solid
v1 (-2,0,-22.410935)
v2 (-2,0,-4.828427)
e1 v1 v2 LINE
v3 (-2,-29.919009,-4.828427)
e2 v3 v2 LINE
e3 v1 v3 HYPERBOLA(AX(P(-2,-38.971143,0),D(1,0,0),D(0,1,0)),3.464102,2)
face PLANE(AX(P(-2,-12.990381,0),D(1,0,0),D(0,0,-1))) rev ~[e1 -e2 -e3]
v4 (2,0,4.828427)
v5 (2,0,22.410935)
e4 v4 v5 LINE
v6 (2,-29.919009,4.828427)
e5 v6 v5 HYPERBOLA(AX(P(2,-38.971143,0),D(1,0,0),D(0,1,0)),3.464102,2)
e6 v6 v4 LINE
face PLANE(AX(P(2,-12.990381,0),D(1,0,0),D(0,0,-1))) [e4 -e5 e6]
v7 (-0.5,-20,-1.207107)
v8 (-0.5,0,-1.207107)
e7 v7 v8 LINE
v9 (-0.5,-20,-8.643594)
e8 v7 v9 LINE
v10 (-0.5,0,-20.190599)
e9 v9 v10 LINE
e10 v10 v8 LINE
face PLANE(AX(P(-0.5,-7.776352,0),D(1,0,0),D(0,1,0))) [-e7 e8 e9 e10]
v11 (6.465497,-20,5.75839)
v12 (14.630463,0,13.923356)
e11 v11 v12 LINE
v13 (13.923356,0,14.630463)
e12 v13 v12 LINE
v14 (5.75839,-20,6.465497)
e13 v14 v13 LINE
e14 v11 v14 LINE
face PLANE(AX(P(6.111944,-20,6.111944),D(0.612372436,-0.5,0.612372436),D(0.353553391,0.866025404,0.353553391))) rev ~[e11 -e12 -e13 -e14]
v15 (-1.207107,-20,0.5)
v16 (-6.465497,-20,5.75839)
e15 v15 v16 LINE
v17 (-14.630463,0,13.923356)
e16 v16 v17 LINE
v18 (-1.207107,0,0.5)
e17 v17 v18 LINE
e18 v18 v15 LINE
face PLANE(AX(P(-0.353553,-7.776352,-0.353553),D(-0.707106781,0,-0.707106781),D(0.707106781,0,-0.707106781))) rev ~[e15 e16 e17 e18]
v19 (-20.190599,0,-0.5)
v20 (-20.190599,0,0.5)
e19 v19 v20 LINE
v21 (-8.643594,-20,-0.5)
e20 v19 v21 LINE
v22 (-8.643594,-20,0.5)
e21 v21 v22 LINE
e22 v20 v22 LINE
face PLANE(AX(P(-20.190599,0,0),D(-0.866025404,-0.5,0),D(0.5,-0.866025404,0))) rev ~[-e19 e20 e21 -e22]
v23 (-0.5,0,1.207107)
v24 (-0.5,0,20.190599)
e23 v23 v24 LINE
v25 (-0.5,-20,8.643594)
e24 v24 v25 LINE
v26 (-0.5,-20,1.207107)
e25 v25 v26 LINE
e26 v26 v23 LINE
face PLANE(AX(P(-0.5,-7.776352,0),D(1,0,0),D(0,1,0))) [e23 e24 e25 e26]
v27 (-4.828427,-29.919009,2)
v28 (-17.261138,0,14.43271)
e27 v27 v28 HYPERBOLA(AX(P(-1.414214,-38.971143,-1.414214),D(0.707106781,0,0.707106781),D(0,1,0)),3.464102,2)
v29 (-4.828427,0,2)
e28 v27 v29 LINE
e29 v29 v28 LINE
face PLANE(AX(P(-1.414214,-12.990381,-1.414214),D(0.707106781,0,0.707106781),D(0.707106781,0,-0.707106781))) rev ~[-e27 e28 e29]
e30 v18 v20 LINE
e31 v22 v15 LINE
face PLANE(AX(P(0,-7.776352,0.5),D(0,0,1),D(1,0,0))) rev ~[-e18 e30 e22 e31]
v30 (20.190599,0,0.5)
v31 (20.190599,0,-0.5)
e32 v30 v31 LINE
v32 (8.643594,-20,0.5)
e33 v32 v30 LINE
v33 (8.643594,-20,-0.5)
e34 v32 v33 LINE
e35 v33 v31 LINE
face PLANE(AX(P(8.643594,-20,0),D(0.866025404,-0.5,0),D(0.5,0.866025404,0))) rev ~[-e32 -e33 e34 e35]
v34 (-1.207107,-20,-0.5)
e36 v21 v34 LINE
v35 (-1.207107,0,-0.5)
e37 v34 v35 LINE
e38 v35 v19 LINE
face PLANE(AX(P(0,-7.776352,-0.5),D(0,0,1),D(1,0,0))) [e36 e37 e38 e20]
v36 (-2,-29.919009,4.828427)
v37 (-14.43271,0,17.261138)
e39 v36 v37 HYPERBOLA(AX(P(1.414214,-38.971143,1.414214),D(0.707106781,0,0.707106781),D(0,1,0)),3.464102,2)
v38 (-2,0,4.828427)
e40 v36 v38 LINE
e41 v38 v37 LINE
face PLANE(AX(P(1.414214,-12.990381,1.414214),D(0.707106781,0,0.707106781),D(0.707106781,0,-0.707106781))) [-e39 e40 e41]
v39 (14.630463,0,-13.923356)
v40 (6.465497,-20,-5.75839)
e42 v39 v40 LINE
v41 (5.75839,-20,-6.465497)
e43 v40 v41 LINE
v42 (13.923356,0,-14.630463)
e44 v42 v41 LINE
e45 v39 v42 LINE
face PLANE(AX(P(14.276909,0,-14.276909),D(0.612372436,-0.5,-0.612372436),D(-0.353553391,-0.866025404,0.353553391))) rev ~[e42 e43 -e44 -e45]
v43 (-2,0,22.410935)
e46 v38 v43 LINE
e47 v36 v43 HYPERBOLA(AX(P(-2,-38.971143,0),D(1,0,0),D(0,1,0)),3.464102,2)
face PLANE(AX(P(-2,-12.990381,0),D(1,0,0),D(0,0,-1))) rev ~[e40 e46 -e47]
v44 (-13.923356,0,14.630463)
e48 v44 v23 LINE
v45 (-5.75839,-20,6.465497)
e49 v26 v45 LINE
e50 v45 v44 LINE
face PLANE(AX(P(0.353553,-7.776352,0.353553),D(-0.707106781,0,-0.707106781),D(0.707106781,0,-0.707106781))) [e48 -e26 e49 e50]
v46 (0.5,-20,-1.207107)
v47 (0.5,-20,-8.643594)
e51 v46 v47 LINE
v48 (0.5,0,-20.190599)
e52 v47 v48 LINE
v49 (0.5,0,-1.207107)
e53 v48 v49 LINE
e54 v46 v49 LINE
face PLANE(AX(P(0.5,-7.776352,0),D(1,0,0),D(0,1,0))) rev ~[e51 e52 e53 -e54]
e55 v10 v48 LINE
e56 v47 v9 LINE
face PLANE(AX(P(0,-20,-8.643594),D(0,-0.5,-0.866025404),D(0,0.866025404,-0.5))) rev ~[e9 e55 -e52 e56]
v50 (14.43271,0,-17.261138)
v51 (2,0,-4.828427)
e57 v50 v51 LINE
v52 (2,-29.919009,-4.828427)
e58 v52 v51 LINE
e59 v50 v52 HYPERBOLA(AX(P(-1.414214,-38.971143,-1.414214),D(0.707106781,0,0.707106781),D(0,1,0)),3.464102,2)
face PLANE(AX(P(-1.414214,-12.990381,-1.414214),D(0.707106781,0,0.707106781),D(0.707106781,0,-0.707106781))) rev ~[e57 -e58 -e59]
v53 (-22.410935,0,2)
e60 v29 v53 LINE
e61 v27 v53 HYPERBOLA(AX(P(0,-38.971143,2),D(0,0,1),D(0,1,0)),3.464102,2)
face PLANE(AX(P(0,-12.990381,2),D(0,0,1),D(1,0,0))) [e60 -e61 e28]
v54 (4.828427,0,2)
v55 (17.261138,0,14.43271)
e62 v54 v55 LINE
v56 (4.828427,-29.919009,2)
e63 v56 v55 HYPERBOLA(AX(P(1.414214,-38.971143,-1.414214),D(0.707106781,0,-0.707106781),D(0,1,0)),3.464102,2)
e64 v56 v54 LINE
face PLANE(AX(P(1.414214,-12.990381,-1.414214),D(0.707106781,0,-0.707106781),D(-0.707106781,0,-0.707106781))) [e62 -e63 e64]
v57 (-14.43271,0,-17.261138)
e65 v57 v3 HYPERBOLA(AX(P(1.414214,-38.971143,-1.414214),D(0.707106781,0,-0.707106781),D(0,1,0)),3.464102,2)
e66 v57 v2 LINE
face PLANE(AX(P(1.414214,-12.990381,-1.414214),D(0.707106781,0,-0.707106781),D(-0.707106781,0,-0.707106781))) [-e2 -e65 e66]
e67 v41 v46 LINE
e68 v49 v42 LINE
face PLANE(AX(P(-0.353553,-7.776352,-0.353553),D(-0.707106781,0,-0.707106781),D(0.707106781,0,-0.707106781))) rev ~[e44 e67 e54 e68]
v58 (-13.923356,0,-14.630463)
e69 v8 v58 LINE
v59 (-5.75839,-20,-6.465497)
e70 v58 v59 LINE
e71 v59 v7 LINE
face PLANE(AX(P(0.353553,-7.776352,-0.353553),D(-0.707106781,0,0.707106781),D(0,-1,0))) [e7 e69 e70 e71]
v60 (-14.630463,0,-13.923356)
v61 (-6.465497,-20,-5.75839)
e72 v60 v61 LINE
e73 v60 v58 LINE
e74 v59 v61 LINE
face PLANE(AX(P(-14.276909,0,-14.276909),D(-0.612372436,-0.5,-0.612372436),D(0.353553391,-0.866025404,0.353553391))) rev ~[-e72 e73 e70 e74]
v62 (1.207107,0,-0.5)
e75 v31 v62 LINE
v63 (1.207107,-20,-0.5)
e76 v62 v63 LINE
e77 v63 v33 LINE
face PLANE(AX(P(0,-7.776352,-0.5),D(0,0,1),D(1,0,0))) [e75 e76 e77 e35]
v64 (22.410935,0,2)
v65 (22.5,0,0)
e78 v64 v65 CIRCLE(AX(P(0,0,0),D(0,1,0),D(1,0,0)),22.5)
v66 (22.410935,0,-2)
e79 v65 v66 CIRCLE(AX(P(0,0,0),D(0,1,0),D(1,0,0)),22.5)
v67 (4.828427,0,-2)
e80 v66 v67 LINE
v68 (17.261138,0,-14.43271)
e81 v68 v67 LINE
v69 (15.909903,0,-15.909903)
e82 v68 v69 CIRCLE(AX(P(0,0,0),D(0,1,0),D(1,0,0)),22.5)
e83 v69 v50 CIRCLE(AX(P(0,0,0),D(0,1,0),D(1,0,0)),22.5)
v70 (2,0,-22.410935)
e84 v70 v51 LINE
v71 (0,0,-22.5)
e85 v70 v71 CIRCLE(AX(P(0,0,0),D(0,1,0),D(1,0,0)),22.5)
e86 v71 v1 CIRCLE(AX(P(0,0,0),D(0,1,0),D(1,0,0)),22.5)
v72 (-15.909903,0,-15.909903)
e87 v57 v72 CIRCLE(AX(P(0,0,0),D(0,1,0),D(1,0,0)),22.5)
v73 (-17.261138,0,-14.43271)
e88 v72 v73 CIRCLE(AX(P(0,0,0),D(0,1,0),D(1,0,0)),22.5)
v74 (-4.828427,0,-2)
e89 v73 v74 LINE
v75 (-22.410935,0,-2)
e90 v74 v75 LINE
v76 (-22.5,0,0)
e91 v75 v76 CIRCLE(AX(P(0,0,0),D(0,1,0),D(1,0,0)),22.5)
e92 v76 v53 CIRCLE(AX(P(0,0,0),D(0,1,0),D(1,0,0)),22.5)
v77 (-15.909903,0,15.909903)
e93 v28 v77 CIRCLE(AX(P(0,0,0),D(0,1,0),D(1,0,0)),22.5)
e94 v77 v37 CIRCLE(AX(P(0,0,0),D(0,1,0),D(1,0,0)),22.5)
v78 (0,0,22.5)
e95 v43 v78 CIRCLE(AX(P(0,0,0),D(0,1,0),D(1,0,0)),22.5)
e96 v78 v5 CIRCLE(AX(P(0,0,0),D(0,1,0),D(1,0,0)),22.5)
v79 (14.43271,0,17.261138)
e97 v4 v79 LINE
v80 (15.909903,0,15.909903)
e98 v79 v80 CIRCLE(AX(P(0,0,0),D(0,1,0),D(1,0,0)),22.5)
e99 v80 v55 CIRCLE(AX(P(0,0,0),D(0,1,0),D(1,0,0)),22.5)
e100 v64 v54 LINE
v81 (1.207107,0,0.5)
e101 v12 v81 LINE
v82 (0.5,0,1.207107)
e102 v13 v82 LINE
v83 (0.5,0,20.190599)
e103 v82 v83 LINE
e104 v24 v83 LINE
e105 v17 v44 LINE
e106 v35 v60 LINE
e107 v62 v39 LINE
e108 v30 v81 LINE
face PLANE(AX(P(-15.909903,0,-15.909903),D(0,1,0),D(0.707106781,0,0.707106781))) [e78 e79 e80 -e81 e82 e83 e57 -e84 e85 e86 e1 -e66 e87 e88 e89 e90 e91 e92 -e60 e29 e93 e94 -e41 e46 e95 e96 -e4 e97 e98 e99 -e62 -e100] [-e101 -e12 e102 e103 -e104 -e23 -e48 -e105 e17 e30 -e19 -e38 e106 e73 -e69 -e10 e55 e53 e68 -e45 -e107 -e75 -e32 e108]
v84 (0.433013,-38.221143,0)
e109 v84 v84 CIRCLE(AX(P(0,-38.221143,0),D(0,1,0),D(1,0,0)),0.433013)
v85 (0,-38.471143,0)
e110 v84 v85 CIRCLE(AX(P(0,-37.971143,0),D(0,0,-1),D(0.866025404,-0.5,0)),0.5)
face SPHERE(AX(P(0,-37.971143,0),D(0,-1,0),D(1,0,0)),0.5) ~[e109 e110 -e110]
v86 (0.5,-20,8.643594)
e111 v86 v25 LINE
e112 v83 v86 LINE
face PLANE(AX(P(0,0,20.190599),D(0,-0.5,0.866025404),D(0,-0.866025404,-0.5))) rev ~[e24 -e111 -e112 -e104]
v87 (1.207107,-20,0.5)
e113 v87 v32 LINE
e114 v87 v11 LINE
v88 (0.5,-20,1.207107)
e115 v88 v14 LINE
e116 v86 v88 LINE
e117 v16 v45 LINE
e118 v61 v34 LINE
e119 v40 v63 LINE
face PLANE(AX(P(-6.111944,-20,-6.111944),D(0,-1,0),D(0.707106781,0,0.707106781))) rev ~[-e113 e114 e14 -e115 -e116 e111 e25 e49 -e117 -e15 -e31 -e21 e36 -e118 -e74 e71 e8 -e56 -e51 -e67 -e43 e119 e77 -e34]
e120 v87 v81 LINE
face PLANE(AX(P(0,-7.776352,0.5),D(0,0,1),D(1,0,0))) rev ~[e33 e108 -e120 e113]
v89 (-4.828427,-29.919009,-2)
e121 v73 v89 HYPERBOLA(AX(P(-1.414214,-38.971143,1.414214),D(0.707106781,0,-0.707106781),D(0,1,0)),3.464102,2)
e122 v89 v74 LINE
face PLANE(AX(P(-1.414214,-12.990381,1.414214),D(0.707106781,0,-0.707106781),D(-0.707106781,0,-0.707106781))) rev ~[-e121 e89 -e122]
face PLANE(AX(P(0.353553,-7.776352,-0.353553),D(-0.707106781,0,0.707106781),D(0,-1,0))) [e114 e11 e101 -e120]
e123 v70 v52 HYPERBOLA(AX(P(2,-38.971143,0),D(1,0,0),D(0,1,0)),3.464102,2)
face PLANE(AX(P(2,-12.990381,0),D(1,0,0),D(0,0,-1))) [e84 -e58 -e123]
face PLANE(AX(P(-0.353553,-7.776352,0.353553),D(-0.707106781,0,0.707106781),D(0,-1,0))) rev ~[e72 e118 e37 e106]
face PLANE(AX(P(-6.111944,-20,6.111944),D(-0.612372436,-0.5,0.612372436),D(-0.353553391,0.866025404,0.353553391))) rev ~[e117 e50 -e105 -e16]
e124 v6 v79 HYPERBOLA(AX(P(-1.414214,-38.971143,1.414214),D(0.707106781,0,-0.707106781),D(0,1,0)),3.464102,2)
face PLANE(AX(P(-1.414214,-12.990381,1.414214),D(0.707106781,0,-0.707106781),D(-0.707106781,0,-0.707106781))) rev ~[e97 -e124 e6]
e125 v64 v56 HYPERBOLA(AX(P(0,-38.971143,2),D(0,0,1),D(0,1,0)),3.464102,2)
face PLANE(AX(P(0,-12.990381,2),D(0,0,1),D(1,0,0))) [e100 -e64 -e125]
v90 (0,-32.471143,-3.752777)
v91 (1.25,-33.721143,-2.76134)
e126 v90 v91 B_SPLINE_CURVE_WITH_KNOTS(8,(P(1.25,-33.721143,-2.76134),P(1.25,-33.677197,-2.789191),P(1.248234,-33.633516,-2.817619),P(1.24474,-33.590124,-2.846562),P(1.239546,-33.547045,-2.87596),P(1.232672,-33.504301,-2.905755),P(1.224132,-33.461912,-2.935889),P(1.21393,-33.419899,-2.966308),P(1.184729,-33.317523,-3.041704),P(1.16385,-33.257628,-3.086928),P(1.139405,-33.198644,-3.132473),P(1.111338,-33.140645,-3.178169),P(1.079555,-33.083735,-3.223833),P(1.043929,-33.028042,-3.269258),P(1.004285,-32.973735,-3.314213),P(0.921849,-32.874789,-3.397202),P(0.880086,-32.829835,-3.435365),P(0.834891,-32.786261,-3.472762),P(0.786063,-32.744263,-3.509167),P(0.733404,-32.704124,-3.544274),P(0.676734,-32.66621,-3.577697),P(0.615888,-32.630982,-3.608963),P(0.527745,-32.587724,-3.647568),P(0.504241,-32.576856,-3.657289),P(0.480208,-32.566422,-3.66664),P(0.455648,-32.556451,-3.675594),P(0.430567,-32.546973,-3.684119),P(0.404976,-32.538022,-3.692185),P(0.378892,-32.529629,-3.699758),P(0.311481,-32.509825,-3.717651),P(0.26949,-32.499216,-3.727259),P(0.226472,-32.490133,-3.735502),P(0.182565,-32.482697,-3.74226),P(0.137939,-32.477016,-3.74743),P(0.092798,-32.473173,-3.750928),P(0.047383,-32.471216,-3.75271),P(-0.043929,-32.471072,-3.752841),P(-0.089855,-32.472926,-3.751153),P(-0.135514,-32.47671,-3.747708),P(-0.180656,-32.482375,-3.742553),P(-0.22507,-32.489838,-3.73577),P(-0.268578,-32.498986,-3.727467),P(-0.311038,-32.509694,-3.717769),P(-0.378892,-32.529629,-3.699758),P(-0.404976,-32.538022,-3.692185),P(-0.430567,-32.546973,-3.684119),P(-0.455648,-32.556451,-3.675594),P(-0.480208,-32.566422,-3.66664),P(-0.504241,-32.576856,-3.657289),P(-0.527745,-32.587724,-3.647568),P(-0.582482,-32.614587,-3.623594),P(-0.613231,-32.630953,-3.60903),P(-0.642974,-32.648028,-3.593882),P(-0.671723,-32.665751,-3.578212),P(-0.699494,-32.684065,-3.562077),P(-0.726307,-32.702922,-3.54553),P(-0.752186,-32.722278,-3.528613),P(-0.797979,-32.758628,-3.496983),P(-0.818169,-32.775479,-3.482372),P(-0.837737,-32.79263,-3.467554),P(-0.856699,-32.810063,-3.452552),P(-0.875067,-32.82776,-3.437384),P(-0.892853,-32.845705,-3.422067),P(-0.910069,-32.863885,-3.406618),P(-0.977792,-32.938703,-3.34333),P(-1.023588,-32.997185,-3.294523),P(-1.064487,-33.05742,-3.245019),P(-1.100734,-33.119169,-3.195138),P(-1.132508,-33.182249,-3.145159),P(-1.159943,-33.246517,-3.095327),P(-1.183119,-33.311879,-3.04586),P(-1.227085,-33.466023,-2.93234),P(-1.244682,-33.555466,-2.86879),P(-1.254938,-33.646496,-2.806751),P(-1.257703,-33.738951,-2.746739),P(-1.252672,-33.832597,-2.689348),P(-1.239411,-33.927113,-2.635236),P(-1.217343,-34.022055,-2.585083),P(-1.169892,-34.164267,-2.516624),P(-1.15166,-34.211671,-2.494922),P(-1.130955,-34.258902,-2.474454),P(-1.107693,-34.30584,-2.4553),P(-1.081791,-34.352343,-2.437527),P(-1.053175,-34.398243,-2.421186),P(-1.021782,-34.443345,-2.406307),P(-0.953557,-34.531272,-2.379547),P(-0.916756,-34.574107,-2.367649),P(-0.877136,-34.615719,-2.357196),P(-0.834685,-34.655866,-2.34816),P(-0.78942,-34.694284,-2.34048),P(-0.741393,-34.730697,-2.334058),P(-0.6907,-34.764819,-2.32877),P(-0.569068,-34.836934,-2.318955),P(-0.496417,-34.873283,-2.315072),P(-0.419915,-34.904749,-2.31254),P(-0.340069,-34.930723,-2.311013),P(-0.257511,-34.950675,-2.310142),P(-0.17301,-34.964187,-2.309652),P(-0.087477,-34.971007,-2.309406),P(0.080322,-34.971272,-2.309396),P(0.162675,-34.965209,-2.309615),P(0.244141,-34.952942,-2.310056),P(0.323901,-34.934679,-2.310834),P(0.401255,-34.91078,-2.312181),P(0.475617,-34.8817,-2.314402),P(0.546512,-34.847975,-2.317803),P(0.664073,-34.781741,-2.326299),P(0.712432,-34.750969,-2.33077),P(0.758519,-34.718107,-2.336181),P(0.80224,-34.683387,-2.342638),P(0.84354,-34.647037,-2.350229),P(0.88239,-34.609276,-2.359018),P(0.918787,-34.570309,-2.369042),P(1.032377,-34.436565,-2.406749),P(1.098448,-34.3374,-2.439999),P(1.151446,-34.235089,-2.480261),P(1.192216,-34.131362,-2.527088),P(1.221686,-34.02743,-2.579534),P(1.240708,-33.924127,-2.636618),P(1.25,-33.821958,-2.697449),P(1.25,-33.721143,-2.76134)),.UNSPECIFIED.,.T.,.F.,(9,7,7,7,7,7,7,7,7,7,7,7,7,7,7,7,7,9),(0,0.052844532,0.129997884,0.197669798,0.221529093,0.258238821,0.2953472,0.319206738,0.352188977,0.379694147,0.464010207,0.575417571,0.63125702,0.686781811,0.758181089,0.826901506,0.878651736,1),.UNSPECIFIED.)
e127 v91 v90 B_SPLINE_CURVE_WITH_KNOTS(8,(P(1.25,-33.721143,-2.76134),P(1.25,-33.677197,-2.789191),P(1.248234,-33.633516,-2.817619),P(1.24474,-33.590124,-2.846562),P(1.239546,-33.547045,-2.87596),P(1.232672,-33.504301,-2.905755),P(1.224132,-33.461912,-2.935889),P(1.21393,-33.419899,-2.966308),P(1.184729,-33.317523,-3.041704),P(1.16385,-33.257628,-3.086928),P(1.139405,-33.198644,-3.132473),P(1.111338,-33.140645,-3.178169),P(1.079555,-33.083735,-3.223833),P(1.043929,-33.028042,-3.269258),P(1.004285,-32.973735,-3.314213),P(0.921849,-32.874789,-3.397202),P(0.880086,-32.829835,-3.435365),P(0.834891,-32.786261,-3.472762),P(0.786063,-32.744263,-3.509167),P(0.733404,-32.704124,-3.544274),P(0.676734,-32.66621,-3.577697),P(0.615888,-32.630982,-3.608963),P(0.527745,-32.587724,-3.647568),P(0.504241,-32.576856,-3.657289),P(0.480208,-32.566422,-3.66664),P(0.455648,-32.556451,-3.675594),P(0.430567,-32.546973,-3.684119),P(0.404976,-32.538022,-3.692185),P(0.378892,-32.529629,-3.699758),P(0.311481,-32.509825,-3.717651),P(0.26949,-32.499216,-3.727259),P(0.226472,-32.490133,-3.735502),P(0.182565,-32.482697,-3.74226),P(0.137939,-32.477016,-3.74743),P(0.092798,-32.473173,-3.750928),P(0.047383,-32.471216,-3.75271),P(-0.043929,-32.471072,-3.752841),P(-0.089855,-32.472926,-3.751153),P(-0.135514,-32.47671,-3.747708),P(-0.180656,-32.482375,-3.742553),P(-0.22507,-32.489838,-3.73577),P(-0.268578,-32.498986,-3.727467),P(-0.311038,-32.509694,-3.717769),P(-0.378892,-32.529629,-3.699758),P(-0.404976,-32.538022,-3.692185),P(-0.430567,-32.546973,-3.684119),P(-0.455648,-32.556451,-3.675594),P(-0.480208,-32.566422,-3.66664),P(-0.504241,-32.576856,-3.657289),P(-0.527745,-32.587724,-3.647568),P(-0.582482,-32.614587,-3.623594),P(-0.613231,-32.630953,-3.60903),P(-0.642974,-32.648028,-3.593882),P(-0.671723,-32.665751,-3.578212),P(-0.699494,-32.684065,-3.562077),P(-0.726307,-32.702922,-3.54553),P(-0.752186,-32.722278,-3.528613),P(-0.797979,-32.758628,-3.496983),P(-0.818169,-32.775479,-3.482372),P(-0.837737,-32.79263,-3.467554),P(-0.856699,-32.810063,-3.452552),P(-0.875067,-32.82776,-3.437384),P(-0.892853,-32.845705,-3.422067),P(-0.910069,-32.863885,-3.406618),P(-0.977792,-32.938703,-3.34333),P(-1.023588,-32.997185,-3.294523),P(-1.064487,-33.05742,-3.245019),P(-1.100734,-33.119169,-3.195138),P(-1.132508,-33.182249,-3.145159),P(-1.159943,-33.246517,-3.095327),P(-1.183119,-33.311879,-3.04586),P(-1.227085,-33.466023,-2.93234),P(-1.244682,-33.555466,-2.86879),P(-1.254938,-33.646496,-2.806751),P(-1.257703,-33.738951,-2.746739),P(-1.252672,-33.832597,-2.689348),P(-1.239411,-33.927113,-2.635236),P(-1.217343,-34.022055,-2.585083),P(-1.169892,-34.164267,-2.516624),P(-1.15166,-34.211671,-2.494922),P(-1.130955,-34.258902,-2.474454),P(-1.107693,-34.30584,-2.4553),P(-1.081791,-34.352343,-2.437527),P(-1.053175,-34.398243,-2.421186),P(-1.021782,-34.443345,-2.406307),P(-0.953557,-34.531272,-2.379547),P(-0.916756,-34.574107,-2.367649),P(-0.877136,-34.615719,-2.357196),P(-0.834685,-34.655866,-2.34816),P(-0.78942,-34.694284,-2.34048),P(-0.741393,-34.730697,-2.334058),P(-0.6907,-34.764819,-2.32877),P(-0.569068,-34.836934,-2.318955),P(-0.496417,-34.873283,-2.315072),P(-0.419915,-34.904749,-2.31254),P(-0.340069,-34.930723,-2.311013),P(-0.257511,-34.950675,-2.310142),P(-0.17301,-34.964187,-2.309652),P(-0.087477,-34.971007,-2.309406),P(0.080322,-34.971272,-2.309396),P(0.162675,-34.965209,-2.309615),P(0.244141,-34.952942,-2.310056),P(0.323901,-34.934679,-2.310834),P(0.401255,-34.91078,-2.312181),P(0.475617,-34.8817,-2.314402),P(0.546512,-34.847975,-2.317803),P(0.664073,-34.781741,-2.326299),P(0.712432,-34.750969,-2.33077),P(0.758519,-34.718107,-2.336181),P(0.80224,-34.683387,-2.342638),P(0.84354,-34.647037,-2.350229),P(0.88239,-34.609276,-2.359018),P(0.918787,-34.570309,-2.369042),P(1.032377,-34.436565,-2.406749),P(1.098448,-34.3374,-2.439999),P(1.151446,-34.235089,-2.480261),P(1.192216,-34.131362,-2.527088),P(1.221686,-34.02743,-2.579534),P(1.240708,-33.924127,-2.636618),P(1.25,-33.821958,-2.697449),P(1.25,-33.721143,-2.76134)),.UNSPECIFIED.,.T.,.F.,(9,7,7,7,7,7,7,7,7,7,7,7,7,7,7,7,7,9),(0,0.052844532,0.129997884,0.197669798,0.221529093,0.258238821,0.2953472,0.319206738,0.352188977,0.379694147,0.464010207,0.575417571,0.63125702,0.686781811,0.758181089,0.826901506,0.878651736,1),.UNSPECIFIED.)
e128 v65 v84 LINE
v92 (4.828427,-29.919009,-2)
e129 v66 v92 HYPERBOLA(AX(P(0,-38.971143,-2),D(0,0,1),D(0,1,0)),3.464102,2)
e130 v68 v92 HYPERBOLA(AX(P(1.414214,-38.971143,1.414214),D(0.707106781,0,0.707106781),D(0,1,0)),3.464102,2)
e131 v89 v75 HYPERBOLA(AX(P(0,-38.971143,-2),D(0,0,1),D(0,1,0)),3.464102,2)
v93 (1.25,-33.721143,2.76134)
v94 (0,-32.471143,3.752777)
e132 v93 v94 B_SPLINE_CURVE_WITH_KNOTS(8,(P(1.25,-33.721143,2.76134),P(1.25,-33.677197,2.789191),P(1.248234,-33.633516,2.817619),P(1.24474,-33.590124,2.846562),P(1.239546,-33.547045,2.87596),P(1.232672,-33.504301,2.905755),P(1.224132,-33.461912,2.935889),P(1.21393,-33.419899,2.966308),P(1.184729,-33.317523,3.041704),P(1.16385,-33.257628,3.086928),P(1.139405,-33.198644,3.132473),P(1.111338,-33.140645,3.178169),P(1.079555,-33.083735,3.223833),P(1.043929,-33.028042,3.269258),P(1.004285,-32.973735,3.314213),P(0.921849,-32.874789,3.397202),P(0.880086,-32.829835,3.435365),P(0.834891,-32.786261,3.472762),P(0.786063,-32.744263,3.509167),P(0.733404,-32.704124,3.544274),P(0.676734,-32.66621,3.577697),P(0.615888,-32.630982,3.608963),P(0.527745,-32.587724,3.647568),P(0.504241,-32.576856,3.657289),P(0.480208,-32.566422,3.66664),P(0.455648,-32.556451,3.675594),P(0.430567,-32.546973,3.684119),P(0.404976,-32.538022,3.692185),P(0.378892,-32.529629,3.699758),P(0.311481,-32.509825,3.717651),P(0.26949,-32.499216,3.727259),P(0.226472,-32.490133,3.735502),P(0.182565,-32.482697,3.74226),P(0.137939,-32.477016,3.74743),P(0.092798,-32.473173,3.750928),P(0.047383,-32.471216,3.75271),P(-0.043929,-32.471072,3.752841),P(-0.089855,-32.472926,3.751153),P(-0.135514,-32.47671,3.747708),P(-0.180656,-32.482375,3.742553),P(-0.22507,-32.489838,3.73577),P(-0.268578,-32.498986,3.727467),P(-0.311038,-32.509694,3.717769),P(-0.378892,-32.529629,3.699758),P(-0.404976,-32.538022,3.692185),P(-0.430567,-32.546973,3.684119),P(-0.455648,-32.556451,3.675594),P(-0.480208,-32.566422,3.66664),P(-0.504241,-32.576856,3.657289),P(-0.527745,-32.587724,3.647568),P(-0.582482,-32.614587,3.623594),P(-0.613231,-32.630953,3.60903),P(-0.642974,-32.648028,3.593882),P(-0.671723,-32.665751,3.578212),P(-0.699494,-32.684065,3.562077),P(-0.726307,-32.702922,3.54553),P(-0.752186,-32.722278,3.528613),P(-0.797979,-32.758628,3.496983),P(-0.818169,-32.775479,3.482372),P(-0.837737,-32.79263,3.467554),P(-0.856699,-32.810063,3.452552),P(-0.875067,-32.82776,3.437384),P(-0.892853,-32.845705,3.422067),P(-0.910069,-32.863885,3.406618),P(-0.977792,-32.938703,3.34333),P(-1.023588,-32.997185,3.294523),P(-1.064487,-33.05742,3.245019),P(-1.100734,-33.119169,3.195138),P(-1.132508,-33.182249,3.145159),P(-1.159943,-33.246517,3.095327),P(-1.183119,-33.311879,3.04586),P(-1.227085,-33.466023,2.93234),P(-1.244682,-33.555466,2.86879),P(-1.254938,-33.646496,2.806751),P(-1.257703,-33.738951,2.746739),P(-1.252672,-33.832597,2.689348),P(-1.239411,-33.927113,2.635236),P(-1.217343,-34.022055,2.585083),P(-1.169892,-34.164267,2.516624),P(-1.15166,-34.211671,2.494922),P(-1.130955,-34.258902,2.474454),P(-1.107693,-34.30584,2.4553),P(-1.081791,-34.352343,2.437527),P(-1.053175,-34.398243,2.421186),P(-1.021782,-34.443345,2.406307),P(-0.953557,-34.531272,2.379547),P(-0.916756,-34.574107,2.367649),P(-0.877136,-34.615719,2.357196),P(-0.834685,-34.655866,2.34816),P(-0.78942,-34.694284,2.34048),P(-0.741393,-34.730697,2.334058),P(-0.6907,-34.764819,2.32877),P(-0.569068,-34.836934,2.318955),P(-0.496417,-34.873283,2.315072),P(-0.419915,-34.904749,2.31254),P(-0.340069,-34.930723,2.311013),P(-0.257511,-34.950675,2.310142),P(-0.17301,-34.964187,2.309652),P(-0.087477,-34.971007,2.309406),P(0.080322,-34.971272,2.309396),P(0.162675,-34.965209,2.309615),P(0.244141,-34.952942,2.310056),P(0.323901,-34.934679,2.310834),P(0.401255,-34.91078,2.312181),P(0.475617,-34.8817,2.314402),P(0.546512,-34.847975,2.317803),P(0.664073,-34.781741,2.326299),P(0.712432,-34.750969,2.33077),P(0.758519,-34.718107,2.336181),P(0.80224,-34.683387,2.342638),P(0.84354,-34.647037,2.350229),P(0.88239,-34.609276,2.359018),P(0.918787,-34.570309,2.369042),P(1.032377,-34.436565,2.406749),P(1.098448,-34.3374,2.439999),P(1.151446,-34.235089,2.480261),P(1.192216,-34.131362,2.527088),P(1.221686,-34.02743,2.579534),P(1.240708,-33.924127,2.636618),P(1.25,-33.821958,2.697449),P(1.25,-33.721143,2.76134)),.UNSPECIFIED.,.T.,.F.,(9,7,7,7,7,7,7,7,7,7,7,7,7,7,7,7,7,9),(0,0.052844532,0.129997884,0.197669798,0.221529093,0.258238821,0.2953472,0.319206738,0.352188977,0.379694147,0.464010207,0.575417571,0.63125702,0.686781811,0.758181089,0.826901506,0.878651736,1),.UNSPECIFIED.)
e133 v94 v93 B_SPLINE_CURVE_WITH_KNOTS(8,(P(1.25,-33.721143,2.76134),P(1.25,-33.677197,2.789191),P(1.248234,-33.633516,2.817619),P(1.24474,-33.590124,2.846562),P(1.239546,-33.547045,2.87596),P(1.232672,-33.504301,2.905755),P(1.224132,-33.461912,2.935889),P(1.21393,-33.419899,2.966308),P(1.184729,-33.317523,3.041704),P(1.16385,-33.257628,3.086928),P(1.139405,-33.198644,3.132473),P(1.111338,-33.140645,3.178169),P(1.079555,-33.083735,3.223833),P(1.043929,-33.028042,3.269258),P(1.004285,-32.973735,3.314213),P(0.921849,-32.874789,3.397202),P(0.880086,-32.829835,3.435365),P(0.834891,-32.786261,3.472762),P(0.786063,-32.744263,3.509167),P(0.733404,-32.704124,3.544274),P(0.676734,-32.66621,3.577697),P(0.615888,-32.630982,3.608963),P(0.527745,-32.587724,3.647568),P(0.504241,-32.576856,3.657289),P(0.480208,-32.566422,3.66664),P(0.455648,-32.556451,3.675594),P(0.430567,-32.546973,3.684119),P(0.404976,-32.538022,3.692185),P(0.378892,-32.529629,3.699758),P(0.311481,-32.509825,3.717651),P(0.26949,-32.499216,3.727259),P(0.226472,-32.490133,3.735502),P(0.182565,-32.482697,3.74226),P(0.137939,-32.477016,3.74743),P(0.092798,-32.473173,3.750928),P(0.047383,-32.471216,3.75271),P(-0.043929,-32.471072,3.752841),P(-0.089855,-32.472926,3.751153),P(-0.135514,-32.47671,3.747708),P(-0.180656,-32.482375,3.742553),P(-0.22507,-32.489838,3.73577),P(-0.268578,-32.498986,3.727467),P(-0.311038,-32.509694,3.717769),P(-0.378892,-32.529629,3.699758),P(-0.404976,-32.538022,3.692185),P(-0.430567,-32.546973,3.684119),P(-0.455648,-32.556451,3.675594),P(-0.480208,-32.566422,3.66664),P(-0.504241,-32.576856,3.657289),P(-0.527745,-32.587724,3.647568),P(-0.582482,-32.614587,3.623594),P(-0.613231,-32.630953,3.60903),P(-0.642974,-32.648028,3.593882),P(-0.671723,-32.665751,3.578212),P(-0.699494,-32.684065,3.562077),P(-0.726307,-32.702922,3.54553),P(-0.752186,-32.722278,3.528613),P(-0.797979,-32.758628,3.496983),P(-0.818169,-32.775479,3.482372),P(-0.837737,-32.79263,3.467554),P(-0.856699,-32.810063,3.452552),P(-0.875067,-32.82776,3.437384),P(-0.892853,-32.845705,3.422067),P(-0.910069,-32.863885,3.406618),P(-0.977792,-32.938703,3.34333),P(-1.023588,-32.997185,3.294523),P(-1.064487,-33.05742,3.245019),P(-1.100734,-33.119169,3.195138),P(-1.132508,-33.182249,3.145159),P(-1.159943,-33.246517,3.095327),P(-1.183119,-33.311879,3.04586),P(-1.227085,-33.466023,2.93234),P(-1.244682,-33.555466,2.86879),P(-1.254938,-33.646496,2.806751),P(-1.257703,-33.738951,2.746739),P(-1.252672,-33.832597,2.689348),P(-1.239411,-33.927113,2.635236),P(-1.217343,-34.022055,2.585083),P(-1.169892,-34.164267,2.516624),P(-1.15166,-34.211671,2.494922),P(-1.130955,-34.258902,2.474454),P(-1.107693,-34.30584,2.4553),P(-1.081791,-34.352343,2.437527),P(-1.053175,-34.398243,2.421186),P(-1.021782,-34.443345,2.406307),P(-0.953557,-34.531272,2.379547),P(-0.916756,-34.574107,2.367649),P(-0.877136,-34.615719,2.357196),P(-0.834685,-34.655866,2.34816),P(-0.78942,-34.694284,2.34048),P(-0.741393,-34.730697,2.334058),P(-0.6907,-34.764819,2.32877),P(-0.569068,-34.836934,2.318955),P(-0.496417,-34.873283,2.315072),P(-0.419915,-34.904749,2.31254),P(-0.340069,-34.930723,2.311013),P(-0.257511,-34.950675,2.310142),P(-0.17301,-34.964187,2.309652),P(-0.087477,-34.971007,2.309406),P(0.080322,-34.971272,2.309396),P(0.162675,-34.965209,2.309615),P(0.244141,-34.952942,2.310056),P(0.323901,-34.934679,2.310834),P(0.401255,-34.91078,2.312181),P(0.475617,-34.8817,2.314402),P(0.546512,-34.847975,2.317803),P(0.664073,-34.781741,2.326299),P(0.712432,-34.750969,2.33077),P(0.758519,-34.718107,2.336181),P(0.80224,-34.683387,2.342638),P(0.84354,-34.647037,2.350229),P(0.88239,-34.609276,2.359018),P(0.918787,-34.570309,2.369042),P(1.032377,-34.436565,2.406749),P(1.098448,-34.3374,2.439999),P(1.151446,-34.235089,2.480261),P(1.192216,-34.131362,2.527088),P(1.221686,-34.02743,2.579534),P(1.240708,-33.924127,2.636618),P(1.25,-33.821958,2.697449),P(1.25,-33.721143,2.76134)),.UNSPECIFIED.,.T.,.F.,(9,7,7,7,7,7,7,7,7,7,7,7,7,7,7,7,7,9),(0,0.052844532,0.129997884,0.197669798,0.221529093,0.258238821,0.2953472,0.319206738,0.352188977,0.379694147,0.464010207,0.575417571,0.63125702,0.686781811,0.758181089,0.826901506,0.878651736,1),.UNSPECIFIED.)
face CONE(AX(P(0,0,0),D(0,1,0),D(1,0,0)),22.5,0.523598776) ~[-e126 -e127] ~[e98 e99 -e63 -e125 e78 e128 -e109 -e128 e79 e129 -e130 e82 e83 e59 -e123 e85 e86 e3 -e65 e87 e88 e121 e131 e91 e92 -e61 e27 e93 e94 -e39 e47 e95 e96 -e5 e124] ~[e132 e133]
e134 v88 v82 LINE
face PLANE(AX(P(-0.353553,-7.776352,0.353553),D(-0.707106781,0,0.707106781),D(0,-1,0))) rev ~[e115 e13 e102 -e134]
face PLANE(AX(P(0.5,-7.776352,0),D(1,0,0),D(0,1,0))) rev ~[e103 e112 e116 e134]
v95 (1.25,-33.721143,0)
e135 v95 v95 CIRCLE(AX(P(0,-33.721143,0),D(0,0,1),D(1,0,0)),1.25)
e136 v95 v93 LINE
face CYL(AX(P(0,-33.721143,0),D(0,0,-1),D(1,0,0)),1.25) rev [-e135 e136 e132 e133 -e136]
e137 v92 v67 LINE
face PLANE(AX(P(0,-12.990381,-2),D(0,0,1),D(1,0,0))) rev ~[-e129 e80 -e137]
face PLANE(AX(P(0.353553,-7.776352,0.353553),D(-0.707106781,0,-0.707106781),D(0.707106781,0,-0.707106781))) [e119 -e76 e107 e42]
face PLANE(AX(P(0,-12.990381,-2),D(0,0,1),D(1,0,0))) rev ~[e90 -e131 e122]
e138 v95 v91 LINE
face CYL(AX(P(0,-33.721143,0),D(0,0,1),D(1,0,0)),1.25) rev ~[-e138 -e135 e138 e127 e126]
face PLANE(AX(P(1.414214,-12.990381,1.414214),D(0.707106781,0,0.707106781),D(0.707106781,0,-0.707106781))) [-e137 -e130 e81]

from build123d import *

# Parameters (mm, degrees)
F2_DEPTH       = 2
F2_DEPTH_BACK  = 2
F3_ANGLE       = 45
F4_ANGLE       = 45
F5_ANGLE       = 45
F10_DEPTH      = 0.5
F12_DEPTH      = 0.5
F15_DEPTH      = 0.5
F18_DEPTH      = 0.5
F19_R          = 1.25
F20_DEPTH      = 22.501
F20_DEPTH_BACK = 22.501


with BuildPart() as f2:
    # F1 (on Top) → F2 (new body, two sides)
    with BuildSketch(Plane.XY) as f2_sk:
        Polygon((22.5, 0), (-22.5, 0), (0, -38.9711431703), align=None)
    extrude(amount=F2_DEPTH)
    extrude(f2_sk.sketch, amount=-F2_DEPTH_BACK)


with BuildPart() as f3_1:
    # F3: copy of F2
    add(f2.part.rotate(Axis((0, -18.774760887, 0), (0, 1, 0)), F3_ANGLE))


with BuildPart() as f4_1:
    # F4: copy of F3_1
    add(f3_1.part.rotate(Axis((0, -18.774760887, 0), (0, 1, 0)), F4_ANGLE))


with BuildPart() as f5_1:
    # F5: copy of F4_1
    add(f4_1.part.rotate(Axis((0, -18.774760887, 0), (0, 1, 0)), F5_ANGLE))


with BuildPart() as f2_1:
    add(f2.part)

    # F6: union F3_1, F4_1, F5_1
    add(f3_1.part)
    add(f4_1.part)
    add(f5_1.part)

    # F9 (on line) → F10 (cut, symmetric)
    with BuildSketch(Plane(origin=(0, 0, 0), x_dir=(0, -1, 0), z_dir=(-0.7071067812, 0, 0.7071067812))):
        Polygon((0, -20.1905989232), (20, -8.6435935394), (20, 8.6435935394), (0, 20.1905989232), align=None)
    extrude(amount=F10_DEPTH, both=True, mode=Mode.SUBTRACT)

    # F11 (on Right) → F12 (cut, symmetric)
    with BuildSketch(Plane.YZ):
        Polygon((-20, -8.6435935394), (0, -20.1905989232), (0, 20.1905989232), (-20, 8.6435935394), align=None)
    extrude(amount=F12_DEPTH, both=True, mode=Mode.SUBTRACT)

    # F14 (on Top) → F15 (cut, symmetric)
    with BuildSketch(Plane.XY):
        Polygon((20.1905989232, 0), (-20.1905989232, 0), (-8.6435935394, -20), (8.6435935394, -20), align=None)
    extrude(amount=F15_DEPTH, both=True, mode=Mode.SUBTRACT)

    # F16 (on Top) → F17 (revolve, cut)
    with BuildSketch(Plane.XY):
        with BuildLine():
            Line((47.749247402, 0), (22.5, 0))
            Line((22.5, 0), (0.4330127019, -38.2211431703))
            ThreePointArc((0.4330127019, -38.2211431703), (0.25, -38.4041558722), (0, -38.4711431703))
            Line((0, -38.4711431703), (0, -38.9711431703))
            Line((0, -38.9711431703), (0, -40.9711431703))
            Line((0, -40.9711431703), (49.3083149195, -40.9711431703))
            Line((49.3083149195, -40.9711431703), (47.749247402, 0))
        make_face()
    revolve(axis=Axis((0, -18.774760887, 0), (0, 1, 0)), mode=Mode.SUBTRACT)

    # F13 (on line) → F18 (cut, symmetric)
    with BuildSketch(Plane(origin=(0, 0, 0), x_dir=(0.7071067812, 0, -0.7071067812), z_dir=(-0.7071067812, 0, -0.7071067812))):
        Polygon((-20.1905989232, 0), (20.1905989232, 0), (8.6435935394, 20), (-8.6435935394, 20), align=None)
    extrude(amount=F18_DEPTH, both=True, mode=Mode.SUBTRACT)

    # F19 (on Top) → F20 (cut, two sides)
    with BuildSketch(Plane.XY) as f20_sk:
        with Locations((0, -33.7211431703)):
            Circle(F19_R)
    extrude(amount=-F20_DEPTH, mode=Mode.SUBTRACT)
    extrude(f20_sk.sketch, amount=F20_DEPTH_BACK, mode=Mode.SUBTRACT)


solid = f2_1.part
